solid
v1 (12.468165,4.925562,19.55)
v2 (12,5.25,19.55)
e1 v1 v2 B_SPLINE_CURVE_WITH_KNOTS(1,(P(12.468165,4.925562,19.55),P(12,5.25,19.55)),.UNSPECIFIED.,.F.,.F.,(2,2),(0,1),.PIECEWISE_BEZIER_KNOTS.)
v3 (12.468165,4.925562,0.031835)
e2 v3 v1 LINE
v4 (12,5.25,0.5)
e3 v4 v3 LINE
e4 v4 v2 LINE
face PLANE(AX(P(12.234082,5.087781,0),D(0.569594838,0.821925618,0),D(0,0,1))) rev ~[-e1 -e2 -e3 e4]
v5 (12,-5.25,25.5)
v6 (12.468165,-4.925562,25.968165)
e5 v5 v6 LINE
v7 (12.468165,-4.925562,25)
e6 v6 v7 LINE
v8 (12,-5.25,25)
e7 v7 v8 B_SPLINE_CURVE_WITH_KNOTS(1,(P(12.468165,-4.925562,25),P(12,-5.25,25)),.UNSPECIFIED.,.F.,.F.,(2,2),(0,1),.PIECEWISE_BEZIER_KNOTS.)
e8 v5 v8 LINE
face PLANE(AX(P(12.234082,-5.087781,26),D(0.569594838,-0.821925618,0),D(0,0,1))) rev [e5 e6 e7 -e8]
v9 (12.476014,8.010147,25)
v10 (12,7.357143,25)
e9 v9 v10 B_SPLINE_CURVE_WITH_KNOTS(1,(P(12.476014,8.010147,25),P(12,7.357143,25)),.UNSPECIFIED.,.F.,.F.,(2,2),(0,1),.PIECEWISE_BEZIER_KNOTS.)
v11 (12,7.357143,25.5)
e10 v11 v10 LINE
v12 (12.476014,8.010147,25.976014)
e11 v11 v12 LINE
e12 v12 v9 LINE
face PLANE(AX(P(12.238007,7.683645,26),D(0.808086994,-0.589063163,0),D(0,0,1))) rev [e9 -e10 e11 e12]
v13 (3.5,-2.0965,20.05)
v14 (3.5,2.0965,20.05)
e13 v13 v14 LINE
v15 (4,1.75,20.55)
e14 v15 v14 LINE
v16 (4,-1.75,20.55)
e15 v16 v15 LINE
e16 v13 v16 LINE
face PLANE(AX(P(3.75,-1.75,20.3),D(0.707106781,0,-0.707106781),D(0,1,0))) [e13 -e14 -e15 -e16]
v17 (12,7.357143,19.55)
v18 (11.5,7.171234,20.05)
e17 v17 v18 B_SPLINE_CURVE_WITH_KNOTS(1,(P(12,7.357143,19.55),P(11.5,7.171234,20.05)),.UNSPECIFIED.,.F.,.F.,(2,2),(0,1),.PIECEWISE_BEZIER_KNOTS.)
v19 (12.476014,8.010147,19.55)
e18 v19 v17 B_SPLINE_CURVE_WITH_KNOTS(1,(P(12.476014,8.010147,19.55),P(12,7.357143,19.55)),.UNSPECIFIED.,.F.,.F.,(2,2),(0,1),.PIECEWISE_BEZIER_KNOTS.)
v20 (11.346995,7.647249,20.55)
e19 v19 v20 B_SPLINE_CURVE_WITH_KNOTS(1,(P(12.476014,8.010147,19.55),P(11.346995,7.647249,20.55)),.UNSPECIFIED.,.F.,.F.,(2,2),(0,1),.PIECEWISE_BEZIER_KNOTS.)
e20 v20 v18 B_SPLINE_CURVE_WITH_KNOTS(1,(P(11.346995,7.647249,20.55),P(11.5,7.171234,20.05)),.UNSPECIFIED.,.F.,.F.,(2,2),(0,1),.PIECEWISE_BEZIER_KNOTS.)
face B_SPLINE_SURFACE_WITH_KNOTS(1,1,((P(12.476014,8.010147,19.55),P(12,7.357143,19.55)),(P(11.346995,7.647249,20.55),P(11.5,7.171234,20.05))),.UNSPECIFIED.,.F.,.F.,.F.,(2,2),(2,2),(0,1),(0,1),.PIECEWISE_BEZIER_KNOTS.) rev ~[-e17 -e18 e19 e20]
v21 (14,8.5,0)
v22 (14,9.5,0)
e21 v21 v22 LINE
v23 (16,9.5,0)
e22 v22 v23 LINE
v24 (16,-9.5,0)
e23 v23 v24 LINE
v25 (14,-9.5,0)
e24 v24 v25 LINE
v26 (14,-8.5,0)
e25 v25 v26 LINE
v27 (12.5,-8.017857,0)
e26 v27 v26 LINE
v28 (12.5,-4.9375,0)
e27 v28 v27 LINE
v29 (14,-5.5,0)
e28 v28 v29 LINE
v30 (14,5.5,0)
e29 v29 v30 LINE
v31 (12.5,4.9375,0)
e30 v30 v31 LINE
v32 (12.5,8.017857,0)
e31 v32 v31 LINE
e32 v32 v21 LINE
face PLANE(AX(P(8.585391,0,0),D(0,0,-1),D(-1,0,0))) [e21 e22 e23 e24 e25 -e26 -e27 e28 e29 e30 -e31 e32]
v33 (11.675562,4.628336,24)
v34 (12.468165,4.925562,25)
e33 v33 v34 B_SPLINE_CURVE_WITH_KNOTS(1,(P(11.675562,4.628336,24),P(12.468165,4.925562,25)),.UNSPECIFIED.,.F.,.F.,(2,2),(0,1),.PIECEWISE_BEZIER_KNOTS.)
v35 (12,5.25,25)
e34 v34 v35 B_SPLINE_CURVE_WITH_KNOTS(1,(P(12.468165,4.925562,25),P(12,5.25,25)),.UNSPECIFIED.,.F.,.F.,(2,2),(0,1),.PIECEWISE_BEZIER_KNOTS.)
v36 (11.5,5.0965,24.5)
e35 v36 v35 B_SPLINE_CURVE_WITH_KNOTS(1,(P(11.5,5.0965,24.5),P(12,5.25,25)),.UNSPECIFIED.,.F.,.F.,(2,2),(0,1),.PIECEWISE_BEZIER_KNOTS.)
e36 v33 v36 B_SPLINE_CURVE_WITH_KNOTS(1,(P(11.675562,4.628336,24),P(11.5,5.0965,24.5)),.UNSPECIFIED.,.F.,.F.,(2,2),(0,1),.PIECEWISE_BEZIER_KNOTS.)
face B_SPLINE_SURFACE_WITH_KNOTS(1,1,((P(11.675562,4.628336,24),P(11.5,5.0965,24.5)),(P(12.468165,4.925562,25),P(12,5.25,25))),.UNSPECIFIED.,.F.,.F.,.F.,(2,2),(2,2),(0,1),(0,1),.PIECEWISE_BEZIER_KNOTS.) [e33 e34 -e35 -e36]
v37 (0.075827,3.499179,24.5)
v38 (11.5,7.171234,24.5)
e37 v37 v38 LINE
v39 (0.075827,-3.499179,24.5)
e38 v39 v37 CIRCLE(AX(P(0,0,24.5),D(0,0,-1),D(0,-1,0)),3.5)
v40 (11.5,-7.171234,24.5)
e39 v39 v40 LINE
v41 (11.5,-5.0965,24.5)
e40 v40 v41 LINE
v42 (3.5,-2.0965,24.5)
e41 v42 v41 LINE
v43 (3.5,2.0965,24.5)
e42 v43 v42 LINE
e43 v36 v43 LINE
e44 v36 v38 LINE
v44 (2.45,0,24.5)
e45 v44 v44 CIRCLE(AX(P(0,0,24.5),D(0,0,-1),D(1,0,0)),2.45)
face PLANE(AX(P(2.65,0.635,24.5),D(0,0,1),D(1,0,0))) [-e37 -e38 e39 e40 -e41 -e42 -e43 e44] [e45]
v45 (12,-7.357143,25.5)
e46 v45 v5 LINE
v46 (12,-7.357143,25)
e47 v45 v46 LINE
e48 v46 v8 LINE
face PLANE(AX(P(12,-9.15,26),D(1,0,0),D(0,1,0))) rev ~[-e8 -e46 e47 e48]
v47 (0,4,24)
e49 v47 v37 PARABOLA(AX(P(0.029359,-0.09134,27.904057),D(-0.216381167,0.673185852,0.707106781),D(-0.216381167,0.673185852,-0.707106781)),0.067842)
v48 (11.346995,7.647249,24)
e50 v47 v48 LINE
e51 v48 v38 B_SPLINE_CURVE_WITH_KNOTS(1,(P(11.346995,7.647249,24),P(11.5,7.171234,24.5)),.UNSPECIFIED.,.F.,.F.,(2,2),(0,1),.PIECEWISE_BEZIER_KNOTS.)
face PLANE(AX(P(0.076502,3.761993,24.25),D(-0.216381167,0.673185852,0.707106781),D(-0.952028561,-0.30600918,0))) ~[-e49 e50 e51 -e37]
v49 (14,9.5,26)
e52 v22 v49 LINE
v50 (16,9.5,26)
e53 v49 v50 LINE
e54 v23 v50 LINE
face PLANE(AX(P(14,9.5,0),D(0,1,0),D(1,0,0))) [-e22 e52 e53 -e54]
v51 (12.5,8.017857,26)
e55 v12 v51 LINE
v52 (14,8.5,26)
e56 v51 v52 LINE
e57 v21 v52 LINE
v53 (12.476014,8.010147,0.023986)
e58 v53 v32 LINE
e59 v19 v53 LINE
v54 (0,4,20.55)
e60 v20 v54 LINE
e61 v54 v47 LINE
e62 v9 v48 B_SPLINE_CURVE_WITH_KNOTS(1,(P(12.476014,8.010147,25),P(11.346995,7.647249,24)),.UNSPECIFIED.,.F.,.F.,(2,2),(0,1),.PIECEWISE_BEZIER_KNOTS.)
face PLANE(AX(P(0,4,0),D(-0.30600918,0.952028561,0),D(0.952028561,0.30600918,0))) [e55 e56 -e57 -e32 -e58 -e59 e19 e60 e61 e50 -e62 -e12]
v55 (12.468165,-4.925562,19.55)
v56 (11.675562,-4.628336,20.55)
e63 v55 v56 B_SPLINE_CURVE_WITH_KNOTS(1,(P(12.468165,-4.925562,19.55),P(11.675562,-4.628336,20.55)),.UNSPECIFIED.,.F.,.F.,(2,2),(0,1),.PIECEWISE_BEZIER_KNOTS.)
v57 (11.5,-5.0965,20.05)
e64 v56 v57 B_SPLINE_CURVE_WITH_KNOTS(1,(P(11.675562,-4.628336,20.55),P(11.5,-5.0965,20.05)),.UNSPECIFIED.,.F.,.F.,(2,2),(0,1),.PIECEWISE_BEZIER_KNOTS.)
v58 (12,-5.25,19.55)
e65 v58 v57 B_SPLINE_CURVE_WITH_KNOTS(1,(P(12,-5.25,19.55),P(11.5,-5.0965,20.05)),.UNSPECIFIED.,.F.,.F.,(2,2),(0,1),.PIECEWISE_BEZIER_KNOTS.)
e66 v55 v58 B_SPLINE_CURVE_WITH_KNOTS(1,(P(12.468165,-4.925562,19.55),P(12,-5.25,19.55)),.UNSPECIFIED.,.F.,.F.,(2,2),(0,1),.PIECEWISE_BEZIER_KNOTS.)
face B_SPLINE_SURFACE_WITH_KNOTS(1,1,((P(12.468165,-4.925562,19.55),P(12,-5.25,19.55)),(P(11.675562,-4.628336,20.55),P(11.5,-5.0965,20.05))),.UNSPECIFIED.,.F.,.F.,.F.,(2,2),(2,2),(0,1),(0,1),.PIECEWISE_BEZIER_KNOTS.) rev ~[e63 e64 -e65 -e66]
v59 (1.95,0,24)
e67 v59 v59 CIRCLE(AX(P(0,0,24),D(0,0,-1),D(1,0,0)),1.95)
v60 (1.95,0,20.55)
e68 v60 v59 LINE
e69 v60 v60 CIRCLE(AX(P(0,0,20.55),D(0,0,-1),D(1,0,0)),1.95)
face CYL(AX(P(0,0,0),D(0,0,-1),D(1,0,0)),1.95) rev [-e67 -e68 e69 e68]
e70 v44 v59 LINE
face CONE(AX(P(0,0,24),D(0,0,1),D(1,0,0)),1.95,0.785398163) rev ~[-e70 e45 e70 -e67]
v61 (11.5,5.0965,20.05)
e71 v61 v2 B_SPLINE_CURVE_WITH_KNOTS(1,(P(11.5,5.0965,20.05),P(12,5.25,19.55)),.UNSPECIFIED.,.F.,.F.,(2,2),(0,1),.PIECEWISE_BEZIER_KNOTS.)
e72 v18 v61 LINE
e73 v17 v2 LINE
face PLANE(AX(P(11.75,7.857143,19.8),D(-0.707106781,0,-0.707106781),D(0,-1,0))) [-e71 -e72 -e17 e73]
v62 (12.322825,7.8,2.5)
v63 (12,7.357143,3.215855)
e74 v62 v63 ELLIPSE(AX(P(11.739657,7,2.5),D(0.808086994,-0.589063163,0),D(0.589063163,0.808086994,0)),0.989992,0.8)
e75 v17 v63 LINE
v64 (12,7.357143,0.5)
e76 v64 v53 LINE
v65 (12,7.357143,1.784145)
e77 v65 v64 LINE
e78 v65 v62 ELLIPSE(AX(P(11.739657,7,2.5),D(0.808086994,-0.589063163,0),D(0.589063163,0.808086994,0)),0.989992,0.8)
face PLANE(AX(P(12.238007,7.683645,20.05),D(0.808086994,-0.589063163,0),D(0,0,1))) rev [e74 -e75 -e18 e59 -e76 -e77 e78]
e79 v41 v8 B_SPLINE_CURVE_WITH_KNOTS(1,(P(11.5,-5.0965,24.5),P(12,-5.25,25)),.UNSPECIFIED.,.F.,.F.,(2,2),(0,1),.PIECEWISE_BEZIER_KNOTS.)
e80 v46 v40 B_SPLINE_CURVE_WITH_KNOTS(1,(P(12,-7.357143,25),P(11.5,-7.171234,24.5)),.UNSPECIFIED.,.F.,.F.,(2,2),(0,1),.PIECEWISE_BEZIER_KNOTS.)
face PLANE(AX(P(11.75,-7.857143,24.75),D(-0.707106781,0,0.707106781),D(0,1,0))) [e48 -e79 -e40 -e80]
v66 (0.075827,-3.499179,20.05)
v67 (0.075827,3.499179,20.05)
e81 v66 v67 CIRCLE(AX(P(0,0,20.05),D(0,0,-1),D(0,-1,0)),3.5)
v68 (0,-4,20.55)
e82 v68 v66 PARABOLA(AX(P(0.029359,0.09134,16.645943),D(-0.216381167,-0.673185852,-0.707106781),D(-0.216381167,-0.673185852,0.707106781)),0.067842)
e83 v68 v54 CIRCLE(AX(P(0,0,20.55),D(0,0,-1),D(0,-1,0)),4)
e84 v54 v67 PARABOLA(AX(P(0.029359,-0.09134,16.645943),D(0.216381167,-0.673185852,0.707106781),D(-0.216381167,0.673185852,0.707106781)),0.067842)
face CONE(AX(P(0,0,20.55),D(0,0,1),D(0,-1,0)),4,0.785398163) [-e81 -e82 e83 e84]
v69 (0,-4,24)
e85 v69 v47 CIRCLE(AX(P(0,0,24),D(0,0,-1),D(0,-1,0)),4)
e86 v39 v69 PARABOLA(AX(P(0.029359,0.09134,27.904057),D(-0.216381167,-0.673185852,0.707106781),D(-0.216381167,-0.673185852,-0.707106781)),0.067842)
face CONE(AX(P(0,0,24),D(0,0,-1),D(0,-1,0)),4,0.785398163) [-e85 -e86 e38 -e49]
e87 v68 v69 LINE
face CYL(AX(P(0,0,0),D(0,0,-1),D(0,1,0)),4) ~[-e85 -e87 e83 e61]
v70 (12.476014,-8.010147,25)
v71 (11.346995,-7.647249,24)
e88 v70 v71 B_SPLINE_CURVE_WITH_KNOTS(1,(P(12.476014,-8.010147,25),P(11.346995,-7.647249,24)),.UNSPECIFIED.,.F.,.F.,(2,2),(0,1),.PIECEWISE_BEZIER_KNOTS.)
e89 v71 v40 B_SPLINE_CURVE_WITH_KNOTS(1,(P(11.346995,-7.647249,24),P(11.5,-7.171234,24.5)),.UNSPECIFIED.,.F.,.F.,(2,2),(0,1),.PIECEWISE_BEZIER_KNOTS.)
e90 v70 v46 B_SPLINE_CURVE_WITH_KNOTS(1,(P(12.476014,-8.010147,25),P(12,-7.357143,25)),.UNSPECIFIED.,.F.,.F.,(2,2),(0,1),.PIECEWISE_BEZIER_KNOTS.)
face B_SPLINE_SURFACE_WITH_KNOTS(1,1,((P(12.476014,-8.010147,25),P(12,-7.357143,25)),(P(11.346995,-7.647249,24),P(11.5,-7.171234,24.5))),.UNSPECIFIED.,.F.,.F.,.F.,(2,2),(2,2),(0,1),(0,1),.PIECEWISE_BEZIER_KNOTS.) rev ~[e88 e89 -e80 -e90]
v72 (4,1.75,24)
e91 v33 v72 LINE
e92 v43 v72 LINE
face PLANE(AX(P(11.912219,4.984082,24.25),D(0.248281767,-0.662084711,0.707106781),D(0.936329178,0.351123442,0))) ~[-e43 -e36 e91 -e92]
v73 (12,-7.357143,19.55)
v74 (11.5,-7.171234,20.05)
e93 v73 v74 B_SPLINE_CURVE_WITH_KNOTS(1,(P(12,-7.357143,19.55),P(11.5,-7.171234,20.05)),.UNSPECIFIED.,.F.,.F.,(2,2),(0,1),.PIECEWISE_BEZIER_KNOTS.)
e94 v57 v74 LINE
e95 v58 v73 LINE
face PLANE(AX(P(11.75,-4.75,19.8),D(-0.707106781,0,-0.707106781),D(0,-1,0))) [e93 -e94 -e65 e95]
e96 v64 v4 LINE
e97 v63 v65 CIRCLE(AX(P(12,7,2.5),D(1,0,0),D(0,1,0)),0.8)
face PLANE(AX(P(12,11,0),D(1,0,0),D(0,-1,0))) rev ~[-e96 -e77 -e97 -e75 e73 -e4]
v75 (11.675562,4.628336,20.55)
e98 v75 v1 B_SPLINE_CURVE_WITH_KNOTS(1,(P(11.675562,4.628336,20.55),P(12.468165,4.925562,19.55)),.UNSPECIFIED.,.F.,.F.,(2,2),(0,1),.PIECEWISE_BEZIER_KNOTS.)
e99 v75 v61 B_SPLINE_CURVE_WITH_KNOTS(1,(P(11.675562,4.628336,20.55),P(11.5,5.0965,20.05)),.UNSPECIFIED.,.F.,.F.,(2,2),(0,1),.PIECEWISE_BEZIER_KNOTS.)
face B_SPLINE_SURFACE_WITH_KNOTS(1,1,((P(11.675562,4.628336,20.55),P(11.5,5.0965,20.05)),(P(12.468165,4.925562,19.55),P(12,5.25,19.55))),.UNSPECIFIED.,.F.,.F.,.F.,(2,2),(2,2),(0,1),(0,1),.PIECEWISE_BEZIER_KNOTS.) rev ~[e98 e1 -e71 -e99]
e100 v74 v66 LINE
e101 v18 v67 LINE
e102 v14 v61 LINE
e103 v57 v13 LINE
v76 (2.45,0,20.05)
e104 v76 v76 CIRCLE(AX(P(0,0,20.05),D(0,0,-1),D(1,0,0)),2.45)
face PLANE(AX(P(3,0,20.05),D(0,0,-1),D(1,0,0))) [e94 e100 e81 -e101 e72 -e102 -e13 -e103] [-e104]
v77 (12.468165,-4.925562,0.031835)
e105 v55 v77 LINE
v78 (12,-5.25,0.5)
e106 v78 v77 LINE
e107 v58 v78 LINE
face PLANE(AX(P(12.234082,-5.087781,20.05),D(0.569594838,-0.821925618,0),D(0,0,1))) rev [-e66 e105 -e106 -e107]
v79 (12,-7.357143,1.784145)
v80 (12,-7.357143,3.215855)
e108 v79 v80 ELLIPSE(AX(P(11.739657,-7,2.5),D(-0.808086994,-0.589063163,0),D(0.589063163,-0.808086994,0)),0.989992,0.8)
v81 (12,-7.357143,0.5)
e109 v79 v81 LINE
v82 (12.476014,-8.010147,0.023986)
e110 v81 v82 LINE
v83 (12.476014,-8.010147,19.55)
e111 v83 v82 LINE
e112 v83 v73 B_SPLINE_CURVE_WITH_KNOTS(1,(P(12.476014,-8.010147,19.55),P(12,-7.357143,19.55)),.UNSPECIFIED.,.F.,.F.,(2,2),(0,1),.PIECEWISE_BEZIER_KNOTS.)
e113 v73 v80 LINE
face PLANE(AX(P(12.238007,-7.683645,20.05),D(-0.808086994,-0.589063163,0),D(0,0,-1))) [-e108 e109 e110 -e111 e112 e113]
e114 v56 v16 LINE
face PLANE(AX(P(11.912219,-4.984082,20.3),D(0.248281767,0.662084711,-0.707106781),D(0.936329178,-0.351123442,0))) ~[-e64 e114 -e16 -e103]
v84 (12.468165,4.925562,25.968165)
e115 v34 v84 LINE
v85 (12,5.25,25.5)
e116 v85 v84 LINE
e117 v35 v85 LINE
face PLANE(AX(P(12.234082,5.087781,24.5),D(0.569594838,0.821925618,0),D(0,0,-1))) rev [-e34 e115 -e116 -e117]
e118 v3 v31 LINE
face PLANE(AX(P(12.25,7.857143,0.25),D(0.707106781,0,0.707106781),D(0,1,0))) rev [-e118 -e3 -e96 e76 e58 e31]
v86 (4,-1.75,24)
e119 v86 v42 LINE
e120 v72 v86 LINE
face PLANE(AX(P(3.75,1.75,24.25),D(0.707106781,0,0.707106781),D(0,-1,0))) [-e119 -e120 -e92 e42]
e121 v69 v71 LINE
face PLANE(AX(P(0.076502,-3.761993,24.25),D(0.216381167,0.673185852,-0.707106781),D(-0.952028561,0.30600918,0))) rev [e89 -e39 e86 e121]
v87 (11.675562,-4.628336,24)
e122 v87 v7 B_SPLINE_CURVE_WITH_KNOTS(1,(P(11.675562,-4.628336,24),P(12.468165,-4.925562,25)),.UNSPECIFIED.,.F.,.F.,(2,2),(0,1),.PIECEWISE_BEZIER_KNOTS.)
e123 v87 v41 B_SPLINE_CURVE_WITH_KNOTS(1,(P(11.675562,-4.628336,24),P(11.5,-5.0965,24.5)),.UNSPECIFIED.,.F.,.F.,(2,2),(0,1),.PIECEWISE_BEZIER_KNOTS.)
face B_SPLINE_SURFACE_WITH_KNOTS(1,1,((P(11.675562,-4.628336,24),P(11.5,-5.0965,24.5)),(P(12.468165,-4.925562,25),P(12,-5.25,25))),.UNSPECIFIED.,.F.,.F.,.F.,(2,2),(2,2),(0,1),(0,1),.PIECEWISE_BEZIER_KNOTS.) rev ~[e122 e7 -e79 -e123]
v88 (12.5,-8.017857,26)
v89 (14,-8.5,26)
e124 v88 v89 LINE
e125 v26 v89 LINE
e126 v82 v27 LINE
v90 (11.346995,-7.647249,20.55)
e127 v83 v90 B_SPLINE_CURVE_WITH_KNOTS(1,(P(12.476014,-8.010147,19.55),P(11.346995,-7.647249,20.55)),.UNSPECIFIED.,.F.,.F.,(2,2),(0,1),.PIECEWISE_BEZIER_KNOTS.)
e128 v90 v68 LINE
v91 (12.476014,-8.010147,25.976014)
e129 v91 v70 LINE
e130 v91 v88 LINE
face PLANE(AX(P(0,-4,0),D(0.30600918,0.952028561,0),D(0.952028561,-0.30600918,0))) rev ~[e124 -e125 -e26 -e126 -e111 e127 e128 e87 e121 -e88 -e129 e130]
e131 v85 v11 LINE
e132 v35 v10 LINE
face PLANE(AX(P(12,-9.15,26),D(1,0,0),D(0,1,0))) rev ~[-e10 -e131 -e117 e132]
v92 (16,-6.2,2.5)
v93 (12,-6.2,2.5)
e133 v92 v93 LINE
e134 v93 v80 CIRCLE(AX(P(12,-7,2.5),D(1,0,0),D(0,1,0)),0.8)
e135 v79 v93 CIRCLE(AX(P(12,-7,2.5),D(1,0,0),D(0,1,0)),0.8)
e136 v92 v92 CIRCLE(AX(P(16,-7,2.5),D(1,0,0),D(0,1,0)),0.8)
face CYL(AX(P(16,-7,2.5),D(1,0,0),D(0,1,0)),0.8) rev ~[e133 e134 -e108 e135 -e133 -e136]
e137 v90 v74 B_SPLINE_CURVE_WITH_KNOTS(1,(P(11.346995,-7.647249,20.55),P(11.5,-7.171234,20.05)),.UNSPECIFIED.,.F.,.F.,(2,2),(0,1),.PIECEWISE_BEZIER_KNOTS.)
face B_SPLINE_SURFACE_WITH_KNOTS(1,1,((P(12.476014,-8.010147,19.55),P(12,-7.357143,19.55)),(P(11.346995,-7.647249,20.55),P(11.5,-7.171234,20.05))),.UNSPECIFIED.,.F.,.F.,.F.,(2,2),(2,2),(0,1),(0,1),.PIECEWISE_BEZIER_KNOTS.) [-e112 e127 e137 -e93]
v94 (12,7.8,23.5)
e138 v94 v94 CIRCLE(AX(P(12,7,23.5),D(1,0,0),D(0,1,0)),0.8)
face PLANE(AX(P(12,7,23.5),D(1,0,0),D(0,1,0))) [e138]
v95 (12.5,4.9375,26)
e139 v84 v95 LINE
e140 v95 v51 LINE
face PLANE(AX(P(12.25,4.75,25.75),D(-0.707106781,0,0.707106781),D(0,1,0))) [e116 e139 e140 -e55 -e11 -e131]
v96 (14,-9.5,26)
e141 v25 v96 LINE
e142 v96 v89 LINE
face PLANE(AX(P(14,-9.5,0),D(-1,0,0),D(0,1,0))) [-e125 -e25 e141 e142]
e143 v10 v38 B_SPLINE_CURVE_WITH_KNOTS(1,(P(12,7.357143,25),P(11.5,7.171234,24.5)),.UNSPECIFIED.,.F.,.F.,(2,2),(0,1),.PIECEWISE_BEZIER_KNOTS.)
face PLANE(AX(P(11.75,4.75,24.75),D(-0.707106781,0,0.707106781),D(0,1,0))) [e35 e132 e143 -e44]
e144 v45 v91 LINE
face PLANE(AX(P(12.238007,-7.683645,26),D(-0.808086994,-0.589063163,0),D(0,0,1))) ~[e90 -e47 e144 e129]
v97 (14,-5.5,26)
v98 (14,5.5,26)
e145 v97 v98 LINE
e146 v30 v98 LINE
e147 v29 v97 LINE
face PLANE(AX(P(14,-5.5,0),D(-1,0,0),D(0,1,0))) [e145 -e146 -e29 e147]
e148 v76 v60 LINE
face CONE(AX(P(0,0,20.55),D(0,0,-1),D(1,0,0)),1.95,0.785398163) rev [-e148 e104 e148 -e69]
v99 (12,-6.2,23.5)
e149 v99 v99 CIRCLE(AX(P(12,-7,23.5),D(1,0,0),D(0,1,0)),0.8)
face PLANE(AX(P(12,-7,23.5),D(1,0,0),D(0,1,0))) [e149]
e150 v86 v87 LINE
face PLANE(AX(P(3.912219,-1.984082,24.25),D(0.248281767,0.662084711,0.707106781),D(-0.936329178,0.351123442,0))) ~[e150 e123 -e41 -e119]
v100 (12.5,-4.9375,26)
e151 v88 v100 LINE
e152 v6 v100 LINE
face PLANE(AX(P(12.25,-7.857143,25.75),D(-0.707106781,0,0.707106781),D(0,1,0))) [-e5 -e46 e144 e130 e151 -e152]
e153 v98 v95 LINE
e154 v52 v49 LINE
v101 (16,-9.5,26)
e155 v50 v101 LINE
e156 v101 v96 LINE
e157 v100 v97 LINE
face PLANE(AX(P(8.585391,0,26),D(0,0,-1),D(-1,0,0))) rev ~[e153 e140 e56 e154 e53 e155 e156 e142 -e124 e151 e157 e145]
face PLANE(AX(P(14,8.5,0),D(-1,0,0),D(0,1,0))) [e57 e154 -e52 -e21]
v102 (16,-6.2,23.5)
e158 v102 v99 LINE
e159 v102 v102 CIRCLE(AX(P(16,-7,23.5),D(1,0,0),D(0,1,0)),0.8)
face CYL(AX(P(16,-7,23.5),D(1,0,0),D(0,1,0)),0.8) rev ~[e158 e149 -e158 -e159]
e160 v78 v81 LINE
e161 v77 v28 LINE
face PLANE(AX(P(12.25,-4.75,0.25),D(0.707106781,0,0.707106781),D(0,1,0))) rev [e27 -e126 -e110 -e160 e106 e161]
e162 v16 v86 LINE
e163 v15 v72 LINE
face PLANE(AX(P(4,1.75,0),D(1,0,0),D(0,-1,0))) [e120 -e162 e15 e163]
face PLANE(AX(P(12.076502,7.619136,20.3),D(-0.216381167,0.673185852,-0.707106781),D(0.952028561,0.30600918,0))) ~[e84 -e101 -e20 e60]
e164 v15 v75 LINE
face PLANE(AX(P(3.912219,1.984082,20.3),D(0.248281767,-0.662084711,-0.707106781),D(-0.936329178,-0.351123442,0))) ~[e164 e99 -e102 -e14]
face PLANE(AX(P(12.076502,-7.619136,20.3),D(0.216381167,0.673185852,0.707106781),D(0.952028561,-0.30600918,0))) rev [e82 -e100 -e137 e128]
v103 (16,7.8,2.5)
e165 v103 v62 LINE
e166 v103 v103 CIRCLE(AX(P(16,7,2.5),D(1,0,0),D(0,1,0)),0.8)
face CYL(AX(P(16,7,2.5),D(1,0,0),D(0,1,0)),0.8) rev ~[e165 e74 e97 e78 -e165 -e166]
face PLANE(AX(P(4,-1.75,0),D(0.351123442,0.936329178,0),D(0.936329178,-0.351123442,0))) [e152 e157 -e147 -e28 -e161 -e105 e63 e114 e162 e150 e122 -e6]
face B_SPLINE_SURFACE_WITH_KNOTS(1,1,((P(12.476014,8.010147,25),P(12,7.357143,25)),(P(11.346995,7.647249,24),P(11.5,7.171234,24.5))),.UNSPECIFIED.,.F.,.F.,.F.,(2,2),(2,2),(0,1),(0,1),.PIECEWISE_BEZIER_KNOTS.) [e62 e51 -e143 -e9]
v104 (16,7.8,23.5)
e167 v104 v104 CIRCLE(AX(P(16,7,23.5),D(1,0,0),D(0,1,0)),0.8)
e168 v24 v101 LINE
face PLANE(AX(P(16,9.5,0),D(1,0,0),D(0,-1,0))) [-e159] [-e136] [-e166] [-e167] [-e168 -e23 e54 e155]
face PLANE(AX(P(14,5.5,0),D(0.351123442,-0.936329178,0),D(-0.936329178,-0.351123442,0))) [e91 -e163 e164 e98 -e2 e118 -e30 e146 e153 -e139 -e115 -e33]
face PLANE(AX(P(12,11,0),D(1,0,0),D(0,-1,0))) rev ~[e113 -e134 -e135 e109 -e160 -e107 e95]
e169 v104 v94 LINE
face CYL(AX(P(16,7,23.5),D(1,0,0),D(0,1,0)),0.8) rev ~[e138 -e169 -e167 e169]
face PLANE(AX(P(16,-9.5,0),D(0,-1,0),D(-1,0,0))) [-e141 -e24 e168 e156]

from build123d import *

# Parameters (mm, degrees)
SKETCH_R        = 1.95
PAD_DEPTH       = 26
SKETCH002_W     = 18
SKETCH002_H     = 22
POCKET_DEPTH    = 20.05
SKETCH003_W     = 18.7
SKETCH003_H     = 19.57
POCKET001_DEPTH = 1.5
CHAMFER_SIZE    = 0.5
SKETCH004_R     = 0.8
POCKET002_DEPTH = 4


with BuildPart() as part:
    # Sketch → Pad (new body)
    with BuildSketch(Plane.XY):
        with BuildLine():
            Line((14, 9.5), (16, 9.5))
            Line((16, 9.5), (16, -9.5))
            Line((16, -9.5), (14, -9.5))
            Line((14, -9.5), (14, -8.5))
            Line((0, -4), (14, -8.5))
            ThreePointArc((0, 4), (-4, 0), (0, -4))
            Line((0, 4), (14, 8.5))
            Line((14, 8.5), (14, 9.5))
        make_face()
        Circle(SKETCH_R, mode=Mode.SUBTRACT)
        Polygon((4, 1.75), (4, -1.75), (14, -5.5), (14, 5.5), align=None, mode=Mode.SUBTRACT)
    extrude(amount=PAD_DEPTH)

    # Sketch002 (on Face14 of Pad) → Pocket (cut)
    with BuildSketch(Plane(origin=(0, 0, 0), x_dir=(1, 0, 0), z_dir=(0, 0, -1))):
        with Locations((3, 0)):
            Rectangle(SKETCH002_W, SKETCH002_H)
    extrude(amount=-POCKET_DEPTH, mode=Mode.SUBTRACT)

    # Sketch003 (on Face6 of Pocket) → Pocket001 (cut)
    with BuildSketch(Plane.XY.offset(26)):
        with Locations((2.65, 0.635)):
            Rectangle(SKETCH003_W, SKETCH003_H)
    extrude(amount=-POCKET001_DEPTH, mode=Mode.SUBTRACT)

    # Chamfer
    chamfer_edges = [part.edges().sort_by_distance(p)[0] for p in [
        (6, -5.928571, 20.05),
        (-4, 0, 20.05),
        (6, 5.928571, 20.05),
        (12, 6.303571, 20.05),
        (8, 3.25, 20.05),
        (4, 0, 20.05),
        (8, -3.25, 20.05),
        (12, -6.303571, 20.05),
        (-1.95, 0, 20.05),
        (12, 6.303571, 26),
        (12, 4.75, 25.25),
        (12, 6.303571, 24.5),
        (12, 7.857143, 25.25),
        (6, 5.928571, 24.5),
        (-4, 0, 24.5),
        (6, -5.928571, 24.5),
        (12, -6.303571, 24.5),
        (8, -3.25, 24.5),
        (4, 0, 24.5),
        (8, 3.25, 24.5),
        (-1.95, 0, 24.5),
        (12, -6.303571, 26),
        (12, -7.857143, 25.25),
        (12, -4.75, 25.25),
        (12, 6.303571, 0),
        (12, 7.857143, 10.025),
        (12, 4.75, 10.025),
        (12, -6.303571, 0),
        (12, -4.75, 10.025),
        (12, -7.857143, 10.025),
    ]]
    chamfer(chamfer_edges, length=CHAMFER_SIZE)

    # Sketch004 (on Face20 of Chamfer) → Pocket002 (cut)
    with BuildSketch(Plane.YZ.offset(16)):
        with Locations((7, 23.5)):
            Circle(SKETCH004_R)
        with Locations((7, 2.5)):
            Circle(SKETCH004_R)
        with Locations((-7, 2.5)):
            Circle(SKETCH004_R)
        with Locations((-7, 23.5)):
            Circle(SKETCH004_R)
    extrude(amount=-POCKET002_DEPTH, mode=Mode.SUBTRACT)


solid = part.part
